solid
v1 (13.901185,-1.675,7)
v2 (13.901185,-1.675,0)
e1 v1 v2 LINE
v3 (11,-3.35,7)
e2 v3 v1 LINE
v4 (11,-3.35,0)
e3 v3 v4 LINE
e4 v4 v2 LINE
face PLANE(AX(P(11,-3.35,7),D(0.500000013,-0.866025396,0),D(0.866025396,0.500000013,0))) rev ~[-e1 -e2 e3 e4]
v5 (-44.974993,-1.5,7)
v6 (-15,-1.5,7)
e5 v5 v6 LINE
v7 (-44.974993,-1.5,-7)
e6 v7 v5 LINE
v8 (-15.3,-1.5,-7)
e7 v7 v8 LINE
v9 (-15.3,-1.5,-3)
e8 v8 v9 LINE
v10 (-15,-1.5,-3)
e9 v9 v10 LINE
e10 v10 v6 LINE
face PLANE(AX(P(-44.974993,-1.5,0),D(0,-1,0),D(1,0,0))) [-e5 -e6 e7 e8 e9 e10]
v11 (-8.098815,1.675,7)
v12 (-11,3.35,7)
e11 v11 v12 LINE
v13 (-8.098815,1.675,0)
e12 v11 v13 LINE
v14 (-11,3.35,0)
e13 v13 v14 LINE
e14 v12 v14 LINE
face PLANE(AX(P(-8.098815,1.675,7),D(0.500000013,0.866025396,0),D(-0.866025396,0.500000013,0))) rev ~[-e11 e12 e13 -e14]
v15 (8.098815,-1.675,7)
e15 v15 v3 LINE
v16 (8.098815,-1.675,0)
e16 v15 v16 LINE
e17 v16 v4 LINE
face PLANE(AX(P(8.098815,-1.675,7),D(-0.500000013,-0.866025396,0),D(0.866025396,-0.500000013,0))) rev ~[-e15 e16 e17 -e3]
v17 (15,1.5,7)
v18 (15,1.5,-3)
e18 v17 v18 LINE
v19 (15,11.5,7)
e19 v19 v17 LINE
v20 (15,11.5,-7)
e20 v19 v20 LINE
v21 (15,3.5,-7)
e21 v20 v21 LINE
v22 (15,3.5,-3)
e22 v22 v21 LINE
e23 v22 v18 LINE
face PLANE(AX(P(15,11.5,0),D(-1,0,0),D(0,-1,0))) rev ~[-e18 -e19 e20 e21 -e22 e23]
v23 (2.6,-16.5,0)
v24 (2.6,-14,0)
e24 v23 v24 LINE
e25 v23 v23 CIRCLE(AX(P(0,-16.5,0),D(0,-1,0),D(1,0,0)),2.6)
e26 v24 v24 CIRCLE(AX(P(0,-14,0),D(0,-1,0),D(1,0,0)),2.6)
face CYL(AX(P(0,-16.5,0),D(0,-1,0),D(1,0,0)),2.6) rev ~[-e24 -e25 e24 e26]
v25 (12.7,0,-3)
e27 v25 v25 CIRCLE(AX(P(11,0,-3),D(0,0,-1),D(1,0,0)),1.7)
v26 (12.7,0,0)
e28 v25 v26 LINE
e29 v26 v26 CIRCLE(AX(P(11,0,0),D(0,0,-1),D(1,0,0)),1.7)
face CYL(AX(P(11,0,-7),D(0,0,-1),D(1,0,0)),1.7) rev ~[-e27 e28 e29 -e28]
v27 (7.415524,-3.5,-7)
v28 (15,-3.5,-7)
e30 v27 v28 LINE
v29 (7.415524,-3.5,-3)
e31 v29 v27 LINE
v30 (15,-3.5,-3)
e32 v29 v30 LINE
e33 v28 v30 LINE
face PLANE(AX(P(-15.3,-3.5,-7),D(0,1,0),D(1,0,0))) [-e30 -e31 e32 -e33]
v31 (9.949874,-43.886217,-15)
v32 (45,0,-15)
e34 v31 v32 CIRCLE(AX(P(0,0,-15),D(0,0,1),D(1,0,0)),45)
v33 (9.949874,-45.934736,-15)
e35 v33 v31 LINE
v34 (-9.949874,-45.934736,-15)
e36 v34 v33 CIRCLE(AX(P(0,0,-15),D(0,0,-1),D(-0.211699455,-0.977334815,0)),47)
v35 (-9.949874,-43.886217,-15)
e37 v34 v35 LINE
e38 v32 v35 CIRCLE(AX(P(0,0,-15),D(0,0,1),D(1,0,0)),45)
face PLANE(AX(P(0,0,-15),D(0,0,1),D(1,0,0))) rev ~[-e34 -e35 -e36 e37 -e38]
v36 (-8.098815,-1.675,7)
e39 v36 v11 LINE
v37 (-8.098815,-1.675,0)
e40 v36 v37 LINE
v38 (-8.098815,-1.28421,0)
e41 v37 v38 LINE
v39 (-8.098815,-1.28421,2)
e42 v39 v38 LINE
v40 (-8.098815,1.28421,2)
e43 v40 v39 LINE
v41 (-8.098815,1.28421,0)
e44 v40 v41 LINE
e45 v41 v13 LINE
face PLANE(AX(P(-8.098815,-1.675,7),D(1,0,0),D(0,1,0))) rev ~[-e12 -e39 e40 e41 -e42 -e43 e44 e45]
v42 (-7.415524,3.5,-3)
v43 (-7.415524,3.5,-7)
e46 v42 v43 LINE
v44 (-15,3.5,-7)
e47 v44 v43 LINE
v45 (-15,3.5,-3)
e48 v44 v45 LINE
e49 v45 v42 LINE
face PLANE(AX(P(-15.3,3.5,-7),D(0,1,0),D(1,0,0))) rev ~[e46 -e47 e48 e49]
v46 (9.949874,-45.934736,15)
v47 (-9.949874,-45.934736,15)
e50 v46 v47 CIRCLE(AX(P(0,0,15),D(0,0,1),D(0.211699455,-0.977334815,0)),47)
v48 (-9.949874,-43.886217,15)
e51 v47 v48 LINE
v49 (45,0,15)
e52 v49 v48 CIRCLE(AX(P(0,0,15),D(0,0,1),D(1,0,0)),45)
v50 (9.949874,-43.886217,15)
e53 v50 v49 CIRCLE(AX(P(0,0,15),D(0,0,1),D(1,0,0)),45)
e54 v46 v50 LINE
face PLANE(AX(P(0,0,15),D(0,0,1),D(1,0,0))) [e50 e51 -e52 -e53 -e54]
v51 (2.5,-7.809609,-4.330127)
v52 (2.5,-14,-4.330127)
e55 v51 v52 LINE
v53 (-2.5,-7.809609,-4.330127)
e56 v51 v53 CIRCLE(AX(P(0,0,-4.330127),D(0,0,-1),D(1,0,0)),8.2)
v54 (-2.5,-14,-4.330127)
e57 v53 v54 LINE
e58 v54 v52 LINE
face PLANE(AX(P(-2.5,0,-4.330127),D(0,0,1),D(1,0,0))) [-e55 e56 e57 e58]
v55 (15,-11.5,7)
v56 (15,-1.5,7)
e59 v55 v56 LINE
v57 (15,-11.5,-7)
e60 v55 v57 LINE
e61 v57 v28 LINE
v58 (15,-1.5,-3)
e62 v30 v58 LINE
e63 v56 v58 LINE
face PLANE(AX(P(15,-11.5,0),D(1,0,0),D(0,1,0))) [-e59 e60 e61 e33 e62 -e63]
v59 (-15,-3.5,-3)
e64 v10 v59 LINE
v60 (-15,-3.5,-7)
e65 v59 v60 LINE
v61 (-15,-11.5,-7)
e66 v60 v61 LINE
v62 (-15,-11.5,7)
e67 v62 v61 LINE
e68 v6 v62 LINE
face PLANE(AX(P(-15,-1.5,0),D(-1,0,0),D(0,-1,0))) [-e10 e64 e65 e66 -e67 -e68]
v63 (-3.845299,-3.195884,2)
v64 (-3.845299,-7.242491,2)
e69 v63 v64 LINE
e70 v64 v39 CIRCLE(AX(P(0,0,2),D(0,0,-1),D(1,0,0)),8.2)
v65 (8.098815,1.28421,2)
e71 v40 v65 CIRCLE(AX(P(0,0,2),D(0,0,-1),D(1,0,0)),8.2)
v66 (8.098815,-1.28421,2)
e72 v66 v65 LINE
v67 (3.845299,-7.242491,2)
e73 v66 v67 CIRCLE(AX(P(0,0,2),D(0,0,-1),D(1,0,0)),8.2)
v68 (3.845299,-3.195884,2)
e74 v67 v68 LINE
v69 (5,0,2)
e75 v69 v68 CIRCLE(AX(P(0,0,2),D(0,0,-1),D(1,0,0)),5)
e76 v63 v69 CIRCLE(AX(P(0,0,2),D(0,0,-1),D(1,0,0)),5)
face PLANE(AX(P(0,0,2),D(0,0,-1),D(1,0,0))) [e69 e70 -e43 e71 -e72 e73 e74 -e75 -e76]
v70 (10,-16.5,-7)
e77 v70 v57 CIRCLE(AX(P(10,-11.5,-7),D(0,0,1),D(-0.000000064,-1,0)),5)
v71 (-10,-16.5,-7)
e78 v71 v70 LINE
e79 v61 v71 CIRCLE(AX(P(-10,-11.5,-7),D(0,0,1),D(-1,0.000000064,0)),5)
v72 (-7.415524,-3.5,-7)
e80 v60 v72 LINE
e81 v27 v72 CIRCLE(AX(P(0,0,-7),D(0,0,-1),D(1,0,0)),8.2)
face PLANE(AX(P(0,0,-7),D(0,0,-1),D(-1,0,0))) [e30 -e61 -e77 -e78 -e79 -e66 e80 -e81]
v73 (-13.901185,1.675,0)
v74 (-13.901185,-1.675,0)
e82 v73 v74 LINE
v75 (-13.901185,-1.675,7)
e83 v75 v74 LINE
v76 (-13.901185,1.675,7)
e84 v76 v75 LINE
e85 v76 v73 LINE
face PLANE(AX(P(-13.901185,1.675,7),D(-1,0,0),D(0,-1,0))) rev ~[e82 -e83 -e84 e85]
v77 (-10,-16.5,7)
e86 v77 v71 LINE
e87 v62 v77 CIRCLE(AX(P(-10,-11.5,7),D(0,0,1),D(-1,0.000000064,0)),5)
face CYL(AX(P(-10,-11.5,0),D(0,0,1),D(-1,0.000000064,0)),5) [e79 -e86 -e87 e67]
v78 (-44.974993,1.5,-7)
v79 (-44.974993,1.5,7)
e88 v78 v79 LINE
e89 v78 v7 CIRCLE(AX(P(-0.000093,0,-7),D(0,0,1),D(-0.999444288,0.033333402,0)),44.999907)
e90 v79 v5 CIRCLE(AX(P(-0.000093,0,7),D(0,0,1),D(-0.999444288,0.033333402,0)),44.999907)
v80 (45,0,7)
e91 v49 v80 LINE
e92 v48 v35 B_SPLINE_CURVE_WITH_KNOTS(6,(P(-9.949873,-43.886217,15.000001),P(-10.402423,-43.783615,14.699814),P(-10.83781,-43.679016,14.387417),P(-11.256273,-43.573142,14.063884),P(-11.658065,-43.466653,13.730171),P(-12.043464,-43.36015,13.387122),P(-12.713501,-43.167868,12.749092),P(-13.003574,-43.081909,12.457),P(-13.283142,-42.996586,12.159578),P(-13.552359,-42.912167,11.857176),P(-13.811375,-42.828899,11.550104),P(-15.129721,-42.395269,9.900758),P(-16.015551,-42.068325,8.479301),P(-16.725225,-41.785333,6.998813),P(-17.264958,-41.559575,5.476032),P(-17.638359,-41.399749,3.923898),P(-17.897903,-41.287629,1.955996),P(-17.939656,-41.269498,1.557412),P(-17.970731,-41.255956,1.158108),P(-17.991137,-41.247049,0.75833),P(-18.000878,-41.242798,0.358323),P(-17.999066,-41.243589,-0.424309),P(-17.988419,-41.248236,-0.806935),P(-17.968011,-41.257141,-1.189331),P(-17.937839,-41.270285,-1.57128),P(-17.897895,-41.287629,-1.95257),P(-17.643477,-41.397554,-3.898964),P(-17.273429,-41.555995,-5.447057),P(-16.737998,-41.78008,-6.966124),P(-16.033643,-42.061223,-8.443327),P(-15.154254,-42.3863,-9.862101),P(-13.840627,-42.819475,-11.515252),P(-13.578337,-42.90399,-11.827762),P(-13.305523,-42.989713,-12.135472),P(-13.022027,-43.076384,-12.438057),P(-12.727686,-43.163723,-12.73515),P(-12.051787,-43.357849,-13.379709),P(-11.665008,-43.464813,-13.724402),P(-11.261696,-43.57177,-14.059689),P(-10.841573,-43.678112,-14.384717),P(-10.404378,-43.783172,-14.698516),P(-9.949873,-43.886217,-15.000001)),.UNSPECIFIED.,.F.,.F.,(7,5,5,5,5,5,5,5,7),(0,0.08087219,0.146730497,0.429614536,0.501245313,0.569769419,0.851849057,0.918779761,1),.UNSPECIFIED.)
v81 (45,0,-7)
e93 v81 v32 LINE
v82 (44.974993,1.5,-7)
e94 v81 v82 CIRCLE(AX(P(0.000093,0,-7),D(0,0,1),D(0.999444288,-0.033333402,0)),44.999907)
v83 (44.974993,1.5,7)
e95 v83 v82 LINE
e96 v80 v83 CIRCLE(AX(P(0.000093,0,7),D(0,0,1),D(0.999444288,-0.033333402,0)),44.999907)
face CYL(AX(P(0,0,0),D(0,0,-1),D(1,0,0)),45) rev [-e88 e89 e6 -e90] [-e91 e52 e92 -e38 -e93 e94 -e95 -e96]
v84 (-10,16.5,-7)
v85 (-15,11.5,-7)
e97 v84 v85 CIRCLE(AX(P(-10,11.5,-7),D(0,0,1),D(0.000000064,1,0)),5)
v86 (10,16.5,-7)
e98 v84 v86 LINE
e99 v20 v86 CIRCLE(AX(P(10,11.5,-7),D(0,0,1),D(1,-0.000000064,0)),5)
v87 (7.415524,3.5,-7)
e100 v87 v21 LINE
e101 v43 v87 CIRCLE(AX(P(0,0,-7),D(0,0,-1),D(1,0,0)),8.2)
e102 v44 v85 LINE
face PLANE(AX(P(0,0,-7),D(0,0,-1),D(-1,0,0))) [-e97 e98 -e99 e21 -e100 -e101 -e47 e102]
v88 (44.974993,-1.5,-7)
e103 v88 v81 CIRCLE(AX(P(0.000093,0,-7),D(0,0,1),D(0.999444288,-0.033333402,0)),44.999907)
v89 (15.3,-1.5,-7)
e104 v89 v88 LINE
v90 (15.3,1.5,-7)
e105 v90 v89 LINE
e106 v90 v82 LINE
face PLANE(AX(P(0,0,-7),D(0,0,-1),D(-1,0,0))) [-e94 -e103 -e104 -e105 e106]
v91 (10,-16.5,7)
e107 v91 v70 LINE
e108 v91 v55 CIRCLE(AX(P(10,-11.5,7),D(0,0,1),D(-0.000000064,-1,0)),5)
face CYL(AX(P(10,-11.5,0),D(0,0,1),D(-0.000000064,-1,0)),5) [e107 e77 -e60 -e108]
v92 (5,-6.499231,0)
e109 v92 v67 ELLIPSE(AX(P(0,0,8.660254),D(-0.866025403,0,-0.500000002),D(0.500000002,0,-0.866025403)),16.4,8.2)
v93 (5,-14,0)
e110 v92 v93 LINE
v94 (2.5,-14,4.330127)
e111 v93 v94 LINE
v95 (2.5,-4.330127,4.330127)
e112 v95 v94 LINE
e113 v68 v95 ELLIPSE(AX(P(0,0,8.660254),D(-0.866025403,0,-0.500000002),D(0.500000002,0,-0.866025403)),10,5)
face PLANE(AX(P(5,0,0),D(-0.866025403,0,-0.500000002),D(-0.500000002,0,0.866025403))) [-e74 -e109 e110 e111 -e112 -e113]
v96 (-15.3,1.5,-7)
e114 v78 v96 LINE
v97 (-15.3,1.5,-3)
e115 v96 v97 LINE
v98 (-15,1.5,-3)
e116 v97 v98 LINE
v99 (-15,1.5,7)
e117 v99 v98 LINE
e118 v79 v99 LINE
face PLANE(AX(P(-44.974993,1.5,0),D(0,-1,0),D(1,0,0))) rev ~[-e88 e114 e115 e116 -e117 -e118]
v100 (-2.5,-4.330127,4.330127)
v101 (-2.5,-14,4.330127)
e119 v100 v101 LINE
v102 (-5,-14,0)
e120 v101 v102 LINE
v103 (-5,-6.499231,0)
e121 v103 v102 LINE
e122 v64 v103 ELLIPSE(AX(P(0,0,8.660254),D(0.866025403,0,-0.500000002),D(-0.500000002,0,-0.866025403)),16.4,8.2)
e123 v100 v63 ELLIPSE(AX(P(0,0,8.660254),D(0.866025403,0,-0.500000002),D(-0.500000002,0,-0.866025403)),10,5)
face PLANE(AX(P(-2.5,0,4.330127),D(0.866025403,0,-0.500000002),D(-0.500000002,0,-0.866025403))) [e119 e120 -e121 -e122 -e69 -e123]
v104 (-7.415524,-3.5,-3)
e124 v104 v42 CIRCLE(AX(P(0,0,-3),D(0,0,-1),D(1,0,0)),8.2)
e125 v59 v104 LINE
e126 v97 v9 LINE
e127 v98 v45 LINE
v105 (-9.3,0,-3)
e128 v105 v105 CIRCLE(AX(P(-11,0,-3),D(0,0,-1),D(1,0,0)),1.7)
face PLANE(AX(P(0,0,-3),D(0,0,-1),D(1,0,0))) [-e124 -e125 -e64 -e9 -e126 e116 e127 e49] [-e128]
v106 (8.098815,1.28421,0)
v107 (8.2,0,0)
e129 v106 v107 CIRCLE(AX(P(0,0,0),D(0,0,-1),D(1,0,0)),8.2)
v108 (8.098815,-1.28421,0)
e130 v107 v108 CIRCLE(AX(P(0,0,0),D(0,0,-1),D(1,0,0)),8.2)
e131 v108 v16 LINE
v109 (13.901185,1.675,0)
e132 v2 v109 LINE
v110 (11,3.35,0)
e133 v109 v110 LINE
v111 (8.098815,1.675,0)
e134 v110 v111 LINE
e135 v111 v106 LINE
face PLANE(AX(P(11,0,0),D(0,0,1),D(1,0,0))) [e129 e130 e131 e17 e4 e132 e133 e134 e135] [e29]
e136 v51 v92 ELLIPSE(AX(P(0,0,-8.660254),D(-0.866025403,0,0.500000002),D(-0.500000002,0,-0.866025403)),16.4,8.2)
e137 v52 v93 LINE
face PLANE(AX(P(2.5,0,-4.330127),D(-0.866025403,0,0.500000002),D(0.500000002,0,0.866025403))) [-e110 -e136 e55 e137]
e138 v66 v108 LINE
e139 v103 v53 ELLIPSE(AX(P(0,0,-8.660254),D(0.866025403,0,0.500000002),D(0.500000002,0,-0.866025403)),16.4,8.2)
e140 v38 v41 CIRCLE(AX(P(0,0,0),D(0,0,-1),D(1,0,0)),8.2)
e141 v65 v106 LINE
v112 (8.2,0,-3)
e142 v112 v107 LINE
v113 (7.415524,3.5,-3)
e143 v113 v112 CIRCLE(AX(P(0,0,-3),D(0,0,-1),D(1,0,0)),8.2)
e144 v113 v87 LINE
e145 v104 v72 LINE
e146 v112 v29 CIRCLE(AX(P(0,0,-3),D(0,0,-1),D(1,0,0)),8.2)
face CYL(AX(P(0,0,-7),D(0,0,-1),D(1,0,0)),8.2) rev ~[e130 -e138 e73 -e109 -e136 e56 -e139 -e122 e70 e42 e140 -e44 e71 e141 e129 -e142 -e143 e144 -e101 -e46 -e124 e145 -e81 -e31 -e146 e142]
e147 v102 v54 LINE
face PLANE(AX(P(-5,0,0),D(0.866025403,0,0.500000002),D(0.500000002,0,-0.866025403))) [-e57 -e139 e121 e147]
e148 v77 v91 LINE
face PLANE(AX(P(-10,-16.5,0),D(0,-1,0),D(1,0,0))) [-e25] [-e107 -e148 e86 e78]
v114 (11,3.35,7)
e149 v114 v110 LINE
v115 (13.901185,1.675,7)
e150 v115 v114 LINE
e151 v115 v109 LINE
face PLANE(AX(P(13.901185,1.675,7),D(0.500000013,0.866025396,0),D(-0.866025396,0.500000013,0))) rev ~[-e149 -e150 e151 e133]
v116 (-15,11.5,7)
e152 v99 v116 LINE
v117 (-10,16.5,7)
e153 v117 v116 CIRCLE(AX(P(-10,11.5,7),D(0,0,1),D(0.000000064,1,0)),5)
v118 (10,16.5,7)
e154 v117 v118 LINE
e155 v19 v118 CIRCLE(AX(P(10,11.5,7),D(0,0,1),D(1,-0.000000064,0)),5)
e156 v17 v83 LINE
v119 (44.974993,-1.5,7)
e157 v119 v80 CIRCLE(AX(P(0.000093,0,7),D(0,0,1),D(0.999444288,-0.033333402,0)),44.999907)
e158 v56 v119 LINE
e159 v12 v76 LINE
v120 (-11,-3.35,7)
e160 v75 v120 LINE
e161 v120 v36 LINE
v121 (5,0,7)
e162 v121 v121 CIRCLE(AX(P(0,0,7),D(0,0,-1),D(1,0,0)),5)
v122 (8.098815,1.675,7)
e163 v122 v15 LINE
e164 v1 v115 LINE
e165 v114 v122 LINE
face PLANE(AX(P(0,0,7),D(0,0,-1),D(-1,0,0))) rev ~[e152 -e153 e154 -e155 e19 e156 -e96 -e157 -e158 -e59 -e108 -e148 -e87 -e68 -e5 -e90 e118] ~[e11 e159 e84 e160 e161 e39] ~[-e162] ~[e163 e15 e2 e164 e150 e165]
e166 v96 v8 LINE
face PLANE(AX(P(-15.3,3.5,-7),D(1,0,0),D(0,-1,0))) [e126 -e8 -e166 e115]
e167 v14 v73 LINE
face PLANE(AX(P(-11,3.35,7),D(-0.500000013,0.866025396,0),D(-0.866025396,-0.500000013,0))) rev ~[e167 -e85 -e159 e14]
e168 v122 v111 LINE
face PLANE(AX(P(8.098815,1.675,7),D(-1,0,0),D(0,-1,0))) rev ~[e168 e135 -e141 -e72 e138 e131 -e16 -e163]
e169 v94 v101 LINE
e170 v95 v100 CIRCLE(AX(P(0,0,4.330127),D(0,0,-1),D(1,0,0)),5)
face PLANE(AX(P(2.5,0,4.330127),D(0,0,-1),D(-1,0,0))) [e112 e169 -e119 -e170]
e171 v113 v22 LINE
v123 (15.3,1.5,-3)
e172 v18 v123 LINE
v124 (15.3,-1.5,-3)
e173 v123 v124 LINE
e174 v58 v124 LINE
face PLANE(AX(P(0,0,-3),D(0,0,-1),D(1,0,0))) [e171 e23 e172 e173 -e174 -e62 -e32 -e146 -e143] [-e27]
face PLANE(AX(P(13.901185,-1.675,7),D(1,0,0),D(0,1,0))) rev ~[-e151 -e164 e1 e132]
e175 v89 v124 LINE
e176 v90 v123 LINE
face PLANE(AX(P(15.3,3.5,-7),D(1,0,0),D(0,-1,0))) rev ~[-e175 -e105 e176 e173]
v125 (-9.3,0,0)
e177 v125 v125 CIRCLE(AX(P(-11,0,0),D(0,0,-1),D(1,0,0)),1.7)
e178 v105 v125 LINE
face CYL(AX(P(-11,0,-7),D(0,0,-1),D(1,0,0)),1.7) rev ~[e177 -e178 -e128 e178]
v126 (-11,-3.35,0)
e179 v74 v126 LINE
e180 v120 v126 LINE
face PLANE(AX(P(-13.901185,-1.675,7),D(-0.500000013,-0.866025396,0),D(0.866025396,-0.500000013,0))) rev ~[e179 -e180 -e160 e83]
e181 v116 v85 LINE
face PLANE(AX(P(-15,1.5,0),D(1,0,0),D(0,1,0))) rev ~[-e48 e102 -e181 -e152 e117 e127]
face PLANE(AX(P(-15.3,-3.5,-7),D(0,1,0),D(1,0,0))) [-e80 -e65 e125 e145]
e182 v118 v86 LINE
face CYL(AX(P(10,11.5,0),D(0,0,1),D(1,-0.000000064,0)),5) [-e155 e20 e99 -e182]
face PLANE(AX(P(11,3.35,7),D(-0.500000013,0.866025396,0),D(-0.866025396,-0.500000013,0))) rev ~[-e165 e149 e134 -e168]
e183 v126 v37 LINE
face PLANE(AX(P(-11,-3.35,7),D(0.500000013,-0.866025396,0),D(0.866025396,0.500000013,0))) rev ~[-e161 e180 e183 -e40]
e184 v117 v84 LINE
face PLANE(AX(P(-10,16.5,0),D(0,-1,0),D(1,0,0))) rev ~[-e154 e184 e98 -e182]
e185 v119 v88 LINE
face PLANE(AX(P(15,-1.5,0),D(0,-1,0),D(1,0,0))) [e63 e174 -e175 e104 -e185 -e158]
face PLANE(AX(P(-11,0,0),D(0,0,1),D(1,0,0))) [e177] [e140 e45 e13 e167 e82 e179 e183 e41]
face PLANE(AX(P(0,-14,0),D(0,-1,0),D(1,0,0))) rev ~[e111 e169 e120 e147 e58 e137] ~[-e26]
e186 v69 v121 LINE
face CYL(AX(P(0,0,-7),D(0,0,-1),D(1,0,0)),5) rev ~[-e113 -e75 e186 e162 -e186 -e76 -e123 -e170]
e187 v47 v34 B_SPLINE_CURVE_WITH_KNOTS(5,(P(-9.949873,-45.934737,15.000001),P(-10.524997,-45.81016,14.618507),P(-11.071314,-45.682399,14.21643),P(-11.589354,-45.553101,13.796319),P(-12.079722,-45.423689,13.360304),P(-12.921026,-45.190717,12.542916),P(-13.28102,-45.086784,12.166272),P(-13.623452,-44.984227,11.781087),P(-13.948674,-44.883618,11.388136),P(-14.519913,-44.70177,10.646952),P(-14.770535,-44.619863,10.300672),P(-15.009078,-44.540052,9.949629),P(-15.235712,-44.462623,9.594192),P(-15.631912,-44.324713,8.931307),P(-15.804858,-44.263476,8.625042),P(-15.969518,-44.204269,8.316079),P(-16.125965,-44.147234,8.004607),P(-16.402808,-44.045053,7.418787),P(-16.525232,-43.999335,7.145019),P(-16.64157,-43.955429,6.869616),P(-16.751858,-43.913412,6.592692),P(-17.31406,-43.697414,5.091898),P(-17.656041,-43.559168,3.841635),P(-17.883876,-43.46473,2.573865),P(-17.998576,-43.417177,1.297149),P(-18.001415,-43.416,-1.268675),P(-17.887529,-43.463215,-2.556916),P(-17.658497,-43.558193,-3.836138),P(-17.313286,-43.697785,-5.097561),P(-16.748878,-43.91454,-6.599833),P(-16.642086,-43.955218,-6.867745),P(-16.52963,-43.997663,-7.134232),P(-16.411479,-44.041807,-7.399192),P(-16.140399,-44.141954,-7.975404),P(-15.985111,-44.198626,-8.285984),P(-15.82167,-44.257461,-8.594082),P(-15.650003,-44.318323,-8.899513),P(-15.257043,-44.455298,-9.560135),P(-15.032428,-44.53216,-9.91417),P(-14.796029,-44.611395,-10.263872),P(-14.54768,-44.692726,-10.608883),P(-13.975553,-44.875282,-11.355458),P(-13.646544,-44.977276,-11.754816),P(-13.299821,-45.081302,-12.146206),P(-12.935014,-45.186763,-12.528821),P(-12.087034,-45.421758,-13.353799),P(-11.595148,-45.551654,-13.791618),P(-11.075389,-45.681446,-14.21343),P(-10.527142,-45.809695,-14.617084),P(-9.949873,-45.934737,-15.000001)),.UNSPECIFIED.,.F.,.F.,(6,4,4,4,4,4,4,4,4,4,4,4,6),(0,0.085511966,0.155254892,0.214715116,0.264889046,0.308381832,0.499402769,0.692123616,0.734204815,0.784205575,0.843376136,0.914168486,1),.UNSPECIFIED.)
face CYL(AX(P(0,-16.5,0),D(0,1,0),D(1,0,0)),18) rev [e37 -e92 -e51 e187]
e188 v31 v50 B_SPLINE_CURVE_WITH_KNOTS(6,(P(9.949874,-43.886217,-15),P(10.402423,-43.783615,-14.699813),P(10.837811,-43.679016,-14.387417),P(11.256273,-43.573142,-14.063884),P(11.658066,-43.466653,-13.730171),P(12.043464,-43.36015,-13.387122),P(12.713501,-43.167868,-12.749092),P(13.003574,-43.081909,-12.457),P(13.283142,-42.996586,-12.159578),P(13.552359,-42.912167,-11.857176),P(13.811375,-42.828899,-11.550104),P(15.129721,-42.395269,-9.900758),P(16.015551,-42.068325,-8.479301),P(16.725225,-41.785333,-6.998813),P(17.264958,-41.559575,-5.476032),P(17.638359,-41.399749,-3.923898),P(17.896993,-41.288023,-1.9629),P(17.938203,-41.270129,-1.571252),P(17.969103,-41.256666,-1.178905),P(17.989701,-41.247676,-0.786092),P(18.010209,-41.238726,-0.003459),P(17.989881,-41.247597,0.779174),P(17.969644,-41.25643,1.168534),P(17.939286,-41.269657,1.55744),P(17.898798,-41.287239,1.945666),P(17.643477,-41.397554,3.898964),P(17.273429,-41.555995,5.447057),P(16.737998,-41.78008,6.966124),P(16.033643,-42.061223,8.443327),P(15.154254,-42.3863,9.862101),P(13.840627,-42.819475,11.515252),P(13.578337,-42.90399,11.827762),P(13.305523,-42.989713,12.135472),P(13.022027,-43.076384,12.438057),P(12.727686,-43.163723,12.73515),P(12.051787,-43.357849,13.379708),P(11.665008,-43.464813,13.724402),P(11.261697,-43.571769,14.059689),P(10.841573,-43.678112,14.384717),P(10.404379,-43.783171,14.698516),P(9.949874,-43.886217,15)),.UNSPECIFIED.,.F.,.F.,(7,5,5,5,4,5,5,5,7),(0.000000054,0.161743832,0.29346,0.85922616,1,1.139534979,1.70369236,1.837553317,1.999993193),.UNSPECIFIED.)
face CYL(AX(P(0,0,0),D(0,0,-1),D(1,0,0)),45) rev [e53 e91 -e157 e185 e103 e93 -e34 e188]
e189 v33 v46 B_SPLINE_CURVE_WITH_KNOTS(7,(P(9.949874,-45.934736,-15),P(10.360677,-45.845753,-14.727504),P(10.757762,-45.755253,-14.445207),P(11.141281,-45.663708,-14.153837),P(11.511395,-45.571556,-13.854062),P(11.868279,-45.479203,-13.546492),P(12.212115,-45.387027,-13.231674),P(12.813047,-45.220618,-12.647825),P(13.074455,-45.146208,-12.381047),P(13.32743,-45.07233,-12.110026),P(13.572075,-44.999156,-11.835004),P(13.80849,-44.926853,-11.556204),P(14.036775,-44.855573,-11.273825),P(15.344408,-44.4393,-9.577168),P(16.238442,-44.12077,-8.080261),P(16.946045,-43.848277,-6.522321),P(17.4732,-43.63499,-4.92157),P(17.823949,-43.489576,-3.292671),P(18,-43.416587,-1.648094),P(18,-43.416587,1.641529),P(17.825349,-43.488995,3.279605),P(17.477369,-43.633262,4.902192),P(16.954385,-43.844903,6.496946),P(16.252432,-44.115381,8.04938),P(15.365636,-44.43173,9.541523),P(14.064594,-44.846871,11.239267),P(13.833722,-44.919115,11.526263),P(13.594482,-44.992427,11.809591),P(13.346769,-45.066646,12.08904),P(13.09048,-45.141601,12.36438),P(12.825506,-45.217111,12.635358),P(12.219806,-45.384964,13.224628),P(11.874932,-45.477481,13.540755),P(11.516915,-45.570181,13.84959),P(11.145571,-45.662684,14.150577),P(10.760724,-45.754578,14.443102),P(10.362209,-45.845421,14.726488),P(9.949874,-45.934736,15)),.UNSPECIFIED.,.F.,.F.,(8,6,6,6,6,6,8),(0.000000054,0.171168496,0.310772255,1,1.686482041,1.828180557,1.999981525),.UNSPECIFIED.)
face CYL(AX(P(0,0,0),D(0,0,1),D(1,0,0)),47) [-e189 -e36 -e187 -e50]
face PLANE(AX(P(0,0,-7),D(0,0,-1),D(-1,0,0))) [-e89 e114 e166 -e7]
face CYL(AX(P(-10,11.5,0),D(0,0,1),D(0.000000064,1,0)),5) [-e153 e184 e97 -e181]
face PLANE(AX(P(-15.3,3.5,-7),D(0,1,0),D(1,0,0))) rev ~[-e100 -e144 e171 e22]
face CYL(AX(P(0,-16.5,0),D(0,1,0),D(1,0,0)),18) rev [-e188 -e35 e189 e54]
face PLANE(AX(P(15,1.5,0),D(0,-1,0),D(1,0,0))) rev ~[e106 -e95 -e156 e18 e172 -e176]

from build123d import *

# Parameters (mm, degrees)
SKETCH_R        = 47
SKETCH_R_2      = 45
PAD_DEPTH       = 15
PAD001_DEPTH    = 7
SKETCH002_R     = 18
POCKET_DEPTH    = 30.501
SKETCH003_R     = 5
SKETCH003_R_2   = 1.7
POCKET001_DEPTH = 22.001
SKETCH004_R     = 8.2
POCKET002_DEPTH = 9
SKETCH005_W     = 30.6
SKETCH005_H     = 7
POCKET003_DEPTH = 4
POCKET004_DEPTH = 7
POCKET005_DEPTH = 14
SKETCH008_R     = 2.6
POCKET006_DEPTH = 5


with BuildPart() as part:
    # Sketch → Pad (new body, symmetric)
    with BuildSketch(Plane.XY):
        Circle(SKETCH_R)
        Circle(SKETCH_R_2, mode=Mode.SUBTRACT)
    extrude(amount=PAD_DEPTH, both=True)

    # Sketch001 → Pad001 (join, symmetric)
    with BuildSketch(Plane.XY):
        with BuildLine():
            Line((-44.974993, 1.5), (-15, 1.5))
            Line((-15, 1.5), (-15, 11.5))
            ThreePointArc((-10, 16.5), (-13.535534, 15.035534), (-15, 11.5))
            Line((-10, 16.5), (10, 16.5))
            ThreePointArc((15, 11.5), (13.535534, 15.035534), (10, 16.5))
            Line((15, 11.5), (15, 1.5))
            Line((15, 1.5), (44.974993, 1.5))
            ThreePointArc((44.974993, -1.5), (45, 0), (44.974993, 1.5))
            Line((15, -1.5), (44.974993, -1.5))
            Line((15, -11.5), (15, -1.5))
            ThreePointArc((10, -16.5), (13.535534, -15.035534), (15, -11.5))
            Line((-10, -16.5), (10, -16.5))
            ThreePointArc((-15, -11.5), (-13.535534, -15.035534), (-10, -16.5))
            Line((-15, -1.5), (-15, -11.5))
            Line((-44.974993, -1.5), (-15, -1.5))
            ThreePointArc((-44.974993, 1.5), (-45, 0), (-44.974993, -1.5))
        make_face()
    extrude(amount=PAD001_DEPTH, both=True)

    # Sketch002 (on Face18 of Pad001) → Pocket (cut, through all)
    with BuildSketch(Plane.XZ.offset(16.5)):
        Circle(SKETCH002_R)
    extrude(amount=POCKET_DEPTH, mode=Mode.SUBTRACT)

    # Sketch003 (on Face7 of Pocket) → Pocket001 (cut, through all)
    with BuildSketch(Plane(origin=(0, 0, -7), x_dir=(1, 0, 0), z_dir=(0, 0, -1))):
        Circle(SKETCH003_R)
        with Locations((-11, 0)):
            Circle(SKETCH003_R_2)
        with Locations((11, 0)):
            Circle(SKETCH003_R_2)
    extrude(amount=-POCKET001_DEPTH, mode=Mode.SUBTRACT)

    # Sketch004 (on Face7 of Pocket001) → Pocket002 (cut)
    with BuildSketch(Plane(origin=(0, 0, -7), x_dir=(1, 0, 0), z_dir=(0, 0, -1))):
        Circle(SKETCH004_R)
    extrude(amount=-POCKET002_DEPTH, mode=Mode.SUBTRACT)

    # Sketch005 (on Face7 of Pocket002) → Pocket003 (cut)
    with BuildSketch(Plane(origin=(0, 0, -7), x_dir=(1, 0, 0), z_dir=(0, 0, -1))):
        Rectangle(SKETCH005_W, SKETCH005_H)
    extrude(amount=-POCKET003_DEPTH, mode=Mode.SUBTRACT)

    # Sketch006 (on Face9 of Pocket003) → Pocket004 (cut)
    with BuildSketch(Plane.XY.offset(7)):
        Polygon((-8.098815, -1.675), (-8.098815, 1.675), (-11, 3.35), (-13.901185, 1.675), (-13.901185, -1.675), (-11, -3.35), align=None)
        Polygon((11, -3.35), (13.901185, -1.675), (13.901185, 1.675), (11, 3.35), (8.098815, 1.675), (8.098815, -1.675), align=None)
    extrude(amount=-POCKET004_DEPTH, mode=Mode.SUBTRACT)

    # Sketch007 → Pocket005 (cut)
    with BuildSketch(Plane.XZ):
        Polygon((2.5, 4.330127), (-2.5, 4.330127), (-5, 0), (-2.5, -4.330127), (2.5, -4.330127), (5, 0), align=None)
    extrude(amount=POCKET005_DEPTH, mode=Mode.SUBTRACT)

    # Sketch008 (on Face23 of Pocket005) → Pocket006 (cut)
    with BuildSketch(Plane.XZ.offset(16.5)):
        Circle(SKETCH008_R)
    extrude(amount=-POCKET006_DEPTH, mode=Mode.SUBTRACT)


solid = part.part
